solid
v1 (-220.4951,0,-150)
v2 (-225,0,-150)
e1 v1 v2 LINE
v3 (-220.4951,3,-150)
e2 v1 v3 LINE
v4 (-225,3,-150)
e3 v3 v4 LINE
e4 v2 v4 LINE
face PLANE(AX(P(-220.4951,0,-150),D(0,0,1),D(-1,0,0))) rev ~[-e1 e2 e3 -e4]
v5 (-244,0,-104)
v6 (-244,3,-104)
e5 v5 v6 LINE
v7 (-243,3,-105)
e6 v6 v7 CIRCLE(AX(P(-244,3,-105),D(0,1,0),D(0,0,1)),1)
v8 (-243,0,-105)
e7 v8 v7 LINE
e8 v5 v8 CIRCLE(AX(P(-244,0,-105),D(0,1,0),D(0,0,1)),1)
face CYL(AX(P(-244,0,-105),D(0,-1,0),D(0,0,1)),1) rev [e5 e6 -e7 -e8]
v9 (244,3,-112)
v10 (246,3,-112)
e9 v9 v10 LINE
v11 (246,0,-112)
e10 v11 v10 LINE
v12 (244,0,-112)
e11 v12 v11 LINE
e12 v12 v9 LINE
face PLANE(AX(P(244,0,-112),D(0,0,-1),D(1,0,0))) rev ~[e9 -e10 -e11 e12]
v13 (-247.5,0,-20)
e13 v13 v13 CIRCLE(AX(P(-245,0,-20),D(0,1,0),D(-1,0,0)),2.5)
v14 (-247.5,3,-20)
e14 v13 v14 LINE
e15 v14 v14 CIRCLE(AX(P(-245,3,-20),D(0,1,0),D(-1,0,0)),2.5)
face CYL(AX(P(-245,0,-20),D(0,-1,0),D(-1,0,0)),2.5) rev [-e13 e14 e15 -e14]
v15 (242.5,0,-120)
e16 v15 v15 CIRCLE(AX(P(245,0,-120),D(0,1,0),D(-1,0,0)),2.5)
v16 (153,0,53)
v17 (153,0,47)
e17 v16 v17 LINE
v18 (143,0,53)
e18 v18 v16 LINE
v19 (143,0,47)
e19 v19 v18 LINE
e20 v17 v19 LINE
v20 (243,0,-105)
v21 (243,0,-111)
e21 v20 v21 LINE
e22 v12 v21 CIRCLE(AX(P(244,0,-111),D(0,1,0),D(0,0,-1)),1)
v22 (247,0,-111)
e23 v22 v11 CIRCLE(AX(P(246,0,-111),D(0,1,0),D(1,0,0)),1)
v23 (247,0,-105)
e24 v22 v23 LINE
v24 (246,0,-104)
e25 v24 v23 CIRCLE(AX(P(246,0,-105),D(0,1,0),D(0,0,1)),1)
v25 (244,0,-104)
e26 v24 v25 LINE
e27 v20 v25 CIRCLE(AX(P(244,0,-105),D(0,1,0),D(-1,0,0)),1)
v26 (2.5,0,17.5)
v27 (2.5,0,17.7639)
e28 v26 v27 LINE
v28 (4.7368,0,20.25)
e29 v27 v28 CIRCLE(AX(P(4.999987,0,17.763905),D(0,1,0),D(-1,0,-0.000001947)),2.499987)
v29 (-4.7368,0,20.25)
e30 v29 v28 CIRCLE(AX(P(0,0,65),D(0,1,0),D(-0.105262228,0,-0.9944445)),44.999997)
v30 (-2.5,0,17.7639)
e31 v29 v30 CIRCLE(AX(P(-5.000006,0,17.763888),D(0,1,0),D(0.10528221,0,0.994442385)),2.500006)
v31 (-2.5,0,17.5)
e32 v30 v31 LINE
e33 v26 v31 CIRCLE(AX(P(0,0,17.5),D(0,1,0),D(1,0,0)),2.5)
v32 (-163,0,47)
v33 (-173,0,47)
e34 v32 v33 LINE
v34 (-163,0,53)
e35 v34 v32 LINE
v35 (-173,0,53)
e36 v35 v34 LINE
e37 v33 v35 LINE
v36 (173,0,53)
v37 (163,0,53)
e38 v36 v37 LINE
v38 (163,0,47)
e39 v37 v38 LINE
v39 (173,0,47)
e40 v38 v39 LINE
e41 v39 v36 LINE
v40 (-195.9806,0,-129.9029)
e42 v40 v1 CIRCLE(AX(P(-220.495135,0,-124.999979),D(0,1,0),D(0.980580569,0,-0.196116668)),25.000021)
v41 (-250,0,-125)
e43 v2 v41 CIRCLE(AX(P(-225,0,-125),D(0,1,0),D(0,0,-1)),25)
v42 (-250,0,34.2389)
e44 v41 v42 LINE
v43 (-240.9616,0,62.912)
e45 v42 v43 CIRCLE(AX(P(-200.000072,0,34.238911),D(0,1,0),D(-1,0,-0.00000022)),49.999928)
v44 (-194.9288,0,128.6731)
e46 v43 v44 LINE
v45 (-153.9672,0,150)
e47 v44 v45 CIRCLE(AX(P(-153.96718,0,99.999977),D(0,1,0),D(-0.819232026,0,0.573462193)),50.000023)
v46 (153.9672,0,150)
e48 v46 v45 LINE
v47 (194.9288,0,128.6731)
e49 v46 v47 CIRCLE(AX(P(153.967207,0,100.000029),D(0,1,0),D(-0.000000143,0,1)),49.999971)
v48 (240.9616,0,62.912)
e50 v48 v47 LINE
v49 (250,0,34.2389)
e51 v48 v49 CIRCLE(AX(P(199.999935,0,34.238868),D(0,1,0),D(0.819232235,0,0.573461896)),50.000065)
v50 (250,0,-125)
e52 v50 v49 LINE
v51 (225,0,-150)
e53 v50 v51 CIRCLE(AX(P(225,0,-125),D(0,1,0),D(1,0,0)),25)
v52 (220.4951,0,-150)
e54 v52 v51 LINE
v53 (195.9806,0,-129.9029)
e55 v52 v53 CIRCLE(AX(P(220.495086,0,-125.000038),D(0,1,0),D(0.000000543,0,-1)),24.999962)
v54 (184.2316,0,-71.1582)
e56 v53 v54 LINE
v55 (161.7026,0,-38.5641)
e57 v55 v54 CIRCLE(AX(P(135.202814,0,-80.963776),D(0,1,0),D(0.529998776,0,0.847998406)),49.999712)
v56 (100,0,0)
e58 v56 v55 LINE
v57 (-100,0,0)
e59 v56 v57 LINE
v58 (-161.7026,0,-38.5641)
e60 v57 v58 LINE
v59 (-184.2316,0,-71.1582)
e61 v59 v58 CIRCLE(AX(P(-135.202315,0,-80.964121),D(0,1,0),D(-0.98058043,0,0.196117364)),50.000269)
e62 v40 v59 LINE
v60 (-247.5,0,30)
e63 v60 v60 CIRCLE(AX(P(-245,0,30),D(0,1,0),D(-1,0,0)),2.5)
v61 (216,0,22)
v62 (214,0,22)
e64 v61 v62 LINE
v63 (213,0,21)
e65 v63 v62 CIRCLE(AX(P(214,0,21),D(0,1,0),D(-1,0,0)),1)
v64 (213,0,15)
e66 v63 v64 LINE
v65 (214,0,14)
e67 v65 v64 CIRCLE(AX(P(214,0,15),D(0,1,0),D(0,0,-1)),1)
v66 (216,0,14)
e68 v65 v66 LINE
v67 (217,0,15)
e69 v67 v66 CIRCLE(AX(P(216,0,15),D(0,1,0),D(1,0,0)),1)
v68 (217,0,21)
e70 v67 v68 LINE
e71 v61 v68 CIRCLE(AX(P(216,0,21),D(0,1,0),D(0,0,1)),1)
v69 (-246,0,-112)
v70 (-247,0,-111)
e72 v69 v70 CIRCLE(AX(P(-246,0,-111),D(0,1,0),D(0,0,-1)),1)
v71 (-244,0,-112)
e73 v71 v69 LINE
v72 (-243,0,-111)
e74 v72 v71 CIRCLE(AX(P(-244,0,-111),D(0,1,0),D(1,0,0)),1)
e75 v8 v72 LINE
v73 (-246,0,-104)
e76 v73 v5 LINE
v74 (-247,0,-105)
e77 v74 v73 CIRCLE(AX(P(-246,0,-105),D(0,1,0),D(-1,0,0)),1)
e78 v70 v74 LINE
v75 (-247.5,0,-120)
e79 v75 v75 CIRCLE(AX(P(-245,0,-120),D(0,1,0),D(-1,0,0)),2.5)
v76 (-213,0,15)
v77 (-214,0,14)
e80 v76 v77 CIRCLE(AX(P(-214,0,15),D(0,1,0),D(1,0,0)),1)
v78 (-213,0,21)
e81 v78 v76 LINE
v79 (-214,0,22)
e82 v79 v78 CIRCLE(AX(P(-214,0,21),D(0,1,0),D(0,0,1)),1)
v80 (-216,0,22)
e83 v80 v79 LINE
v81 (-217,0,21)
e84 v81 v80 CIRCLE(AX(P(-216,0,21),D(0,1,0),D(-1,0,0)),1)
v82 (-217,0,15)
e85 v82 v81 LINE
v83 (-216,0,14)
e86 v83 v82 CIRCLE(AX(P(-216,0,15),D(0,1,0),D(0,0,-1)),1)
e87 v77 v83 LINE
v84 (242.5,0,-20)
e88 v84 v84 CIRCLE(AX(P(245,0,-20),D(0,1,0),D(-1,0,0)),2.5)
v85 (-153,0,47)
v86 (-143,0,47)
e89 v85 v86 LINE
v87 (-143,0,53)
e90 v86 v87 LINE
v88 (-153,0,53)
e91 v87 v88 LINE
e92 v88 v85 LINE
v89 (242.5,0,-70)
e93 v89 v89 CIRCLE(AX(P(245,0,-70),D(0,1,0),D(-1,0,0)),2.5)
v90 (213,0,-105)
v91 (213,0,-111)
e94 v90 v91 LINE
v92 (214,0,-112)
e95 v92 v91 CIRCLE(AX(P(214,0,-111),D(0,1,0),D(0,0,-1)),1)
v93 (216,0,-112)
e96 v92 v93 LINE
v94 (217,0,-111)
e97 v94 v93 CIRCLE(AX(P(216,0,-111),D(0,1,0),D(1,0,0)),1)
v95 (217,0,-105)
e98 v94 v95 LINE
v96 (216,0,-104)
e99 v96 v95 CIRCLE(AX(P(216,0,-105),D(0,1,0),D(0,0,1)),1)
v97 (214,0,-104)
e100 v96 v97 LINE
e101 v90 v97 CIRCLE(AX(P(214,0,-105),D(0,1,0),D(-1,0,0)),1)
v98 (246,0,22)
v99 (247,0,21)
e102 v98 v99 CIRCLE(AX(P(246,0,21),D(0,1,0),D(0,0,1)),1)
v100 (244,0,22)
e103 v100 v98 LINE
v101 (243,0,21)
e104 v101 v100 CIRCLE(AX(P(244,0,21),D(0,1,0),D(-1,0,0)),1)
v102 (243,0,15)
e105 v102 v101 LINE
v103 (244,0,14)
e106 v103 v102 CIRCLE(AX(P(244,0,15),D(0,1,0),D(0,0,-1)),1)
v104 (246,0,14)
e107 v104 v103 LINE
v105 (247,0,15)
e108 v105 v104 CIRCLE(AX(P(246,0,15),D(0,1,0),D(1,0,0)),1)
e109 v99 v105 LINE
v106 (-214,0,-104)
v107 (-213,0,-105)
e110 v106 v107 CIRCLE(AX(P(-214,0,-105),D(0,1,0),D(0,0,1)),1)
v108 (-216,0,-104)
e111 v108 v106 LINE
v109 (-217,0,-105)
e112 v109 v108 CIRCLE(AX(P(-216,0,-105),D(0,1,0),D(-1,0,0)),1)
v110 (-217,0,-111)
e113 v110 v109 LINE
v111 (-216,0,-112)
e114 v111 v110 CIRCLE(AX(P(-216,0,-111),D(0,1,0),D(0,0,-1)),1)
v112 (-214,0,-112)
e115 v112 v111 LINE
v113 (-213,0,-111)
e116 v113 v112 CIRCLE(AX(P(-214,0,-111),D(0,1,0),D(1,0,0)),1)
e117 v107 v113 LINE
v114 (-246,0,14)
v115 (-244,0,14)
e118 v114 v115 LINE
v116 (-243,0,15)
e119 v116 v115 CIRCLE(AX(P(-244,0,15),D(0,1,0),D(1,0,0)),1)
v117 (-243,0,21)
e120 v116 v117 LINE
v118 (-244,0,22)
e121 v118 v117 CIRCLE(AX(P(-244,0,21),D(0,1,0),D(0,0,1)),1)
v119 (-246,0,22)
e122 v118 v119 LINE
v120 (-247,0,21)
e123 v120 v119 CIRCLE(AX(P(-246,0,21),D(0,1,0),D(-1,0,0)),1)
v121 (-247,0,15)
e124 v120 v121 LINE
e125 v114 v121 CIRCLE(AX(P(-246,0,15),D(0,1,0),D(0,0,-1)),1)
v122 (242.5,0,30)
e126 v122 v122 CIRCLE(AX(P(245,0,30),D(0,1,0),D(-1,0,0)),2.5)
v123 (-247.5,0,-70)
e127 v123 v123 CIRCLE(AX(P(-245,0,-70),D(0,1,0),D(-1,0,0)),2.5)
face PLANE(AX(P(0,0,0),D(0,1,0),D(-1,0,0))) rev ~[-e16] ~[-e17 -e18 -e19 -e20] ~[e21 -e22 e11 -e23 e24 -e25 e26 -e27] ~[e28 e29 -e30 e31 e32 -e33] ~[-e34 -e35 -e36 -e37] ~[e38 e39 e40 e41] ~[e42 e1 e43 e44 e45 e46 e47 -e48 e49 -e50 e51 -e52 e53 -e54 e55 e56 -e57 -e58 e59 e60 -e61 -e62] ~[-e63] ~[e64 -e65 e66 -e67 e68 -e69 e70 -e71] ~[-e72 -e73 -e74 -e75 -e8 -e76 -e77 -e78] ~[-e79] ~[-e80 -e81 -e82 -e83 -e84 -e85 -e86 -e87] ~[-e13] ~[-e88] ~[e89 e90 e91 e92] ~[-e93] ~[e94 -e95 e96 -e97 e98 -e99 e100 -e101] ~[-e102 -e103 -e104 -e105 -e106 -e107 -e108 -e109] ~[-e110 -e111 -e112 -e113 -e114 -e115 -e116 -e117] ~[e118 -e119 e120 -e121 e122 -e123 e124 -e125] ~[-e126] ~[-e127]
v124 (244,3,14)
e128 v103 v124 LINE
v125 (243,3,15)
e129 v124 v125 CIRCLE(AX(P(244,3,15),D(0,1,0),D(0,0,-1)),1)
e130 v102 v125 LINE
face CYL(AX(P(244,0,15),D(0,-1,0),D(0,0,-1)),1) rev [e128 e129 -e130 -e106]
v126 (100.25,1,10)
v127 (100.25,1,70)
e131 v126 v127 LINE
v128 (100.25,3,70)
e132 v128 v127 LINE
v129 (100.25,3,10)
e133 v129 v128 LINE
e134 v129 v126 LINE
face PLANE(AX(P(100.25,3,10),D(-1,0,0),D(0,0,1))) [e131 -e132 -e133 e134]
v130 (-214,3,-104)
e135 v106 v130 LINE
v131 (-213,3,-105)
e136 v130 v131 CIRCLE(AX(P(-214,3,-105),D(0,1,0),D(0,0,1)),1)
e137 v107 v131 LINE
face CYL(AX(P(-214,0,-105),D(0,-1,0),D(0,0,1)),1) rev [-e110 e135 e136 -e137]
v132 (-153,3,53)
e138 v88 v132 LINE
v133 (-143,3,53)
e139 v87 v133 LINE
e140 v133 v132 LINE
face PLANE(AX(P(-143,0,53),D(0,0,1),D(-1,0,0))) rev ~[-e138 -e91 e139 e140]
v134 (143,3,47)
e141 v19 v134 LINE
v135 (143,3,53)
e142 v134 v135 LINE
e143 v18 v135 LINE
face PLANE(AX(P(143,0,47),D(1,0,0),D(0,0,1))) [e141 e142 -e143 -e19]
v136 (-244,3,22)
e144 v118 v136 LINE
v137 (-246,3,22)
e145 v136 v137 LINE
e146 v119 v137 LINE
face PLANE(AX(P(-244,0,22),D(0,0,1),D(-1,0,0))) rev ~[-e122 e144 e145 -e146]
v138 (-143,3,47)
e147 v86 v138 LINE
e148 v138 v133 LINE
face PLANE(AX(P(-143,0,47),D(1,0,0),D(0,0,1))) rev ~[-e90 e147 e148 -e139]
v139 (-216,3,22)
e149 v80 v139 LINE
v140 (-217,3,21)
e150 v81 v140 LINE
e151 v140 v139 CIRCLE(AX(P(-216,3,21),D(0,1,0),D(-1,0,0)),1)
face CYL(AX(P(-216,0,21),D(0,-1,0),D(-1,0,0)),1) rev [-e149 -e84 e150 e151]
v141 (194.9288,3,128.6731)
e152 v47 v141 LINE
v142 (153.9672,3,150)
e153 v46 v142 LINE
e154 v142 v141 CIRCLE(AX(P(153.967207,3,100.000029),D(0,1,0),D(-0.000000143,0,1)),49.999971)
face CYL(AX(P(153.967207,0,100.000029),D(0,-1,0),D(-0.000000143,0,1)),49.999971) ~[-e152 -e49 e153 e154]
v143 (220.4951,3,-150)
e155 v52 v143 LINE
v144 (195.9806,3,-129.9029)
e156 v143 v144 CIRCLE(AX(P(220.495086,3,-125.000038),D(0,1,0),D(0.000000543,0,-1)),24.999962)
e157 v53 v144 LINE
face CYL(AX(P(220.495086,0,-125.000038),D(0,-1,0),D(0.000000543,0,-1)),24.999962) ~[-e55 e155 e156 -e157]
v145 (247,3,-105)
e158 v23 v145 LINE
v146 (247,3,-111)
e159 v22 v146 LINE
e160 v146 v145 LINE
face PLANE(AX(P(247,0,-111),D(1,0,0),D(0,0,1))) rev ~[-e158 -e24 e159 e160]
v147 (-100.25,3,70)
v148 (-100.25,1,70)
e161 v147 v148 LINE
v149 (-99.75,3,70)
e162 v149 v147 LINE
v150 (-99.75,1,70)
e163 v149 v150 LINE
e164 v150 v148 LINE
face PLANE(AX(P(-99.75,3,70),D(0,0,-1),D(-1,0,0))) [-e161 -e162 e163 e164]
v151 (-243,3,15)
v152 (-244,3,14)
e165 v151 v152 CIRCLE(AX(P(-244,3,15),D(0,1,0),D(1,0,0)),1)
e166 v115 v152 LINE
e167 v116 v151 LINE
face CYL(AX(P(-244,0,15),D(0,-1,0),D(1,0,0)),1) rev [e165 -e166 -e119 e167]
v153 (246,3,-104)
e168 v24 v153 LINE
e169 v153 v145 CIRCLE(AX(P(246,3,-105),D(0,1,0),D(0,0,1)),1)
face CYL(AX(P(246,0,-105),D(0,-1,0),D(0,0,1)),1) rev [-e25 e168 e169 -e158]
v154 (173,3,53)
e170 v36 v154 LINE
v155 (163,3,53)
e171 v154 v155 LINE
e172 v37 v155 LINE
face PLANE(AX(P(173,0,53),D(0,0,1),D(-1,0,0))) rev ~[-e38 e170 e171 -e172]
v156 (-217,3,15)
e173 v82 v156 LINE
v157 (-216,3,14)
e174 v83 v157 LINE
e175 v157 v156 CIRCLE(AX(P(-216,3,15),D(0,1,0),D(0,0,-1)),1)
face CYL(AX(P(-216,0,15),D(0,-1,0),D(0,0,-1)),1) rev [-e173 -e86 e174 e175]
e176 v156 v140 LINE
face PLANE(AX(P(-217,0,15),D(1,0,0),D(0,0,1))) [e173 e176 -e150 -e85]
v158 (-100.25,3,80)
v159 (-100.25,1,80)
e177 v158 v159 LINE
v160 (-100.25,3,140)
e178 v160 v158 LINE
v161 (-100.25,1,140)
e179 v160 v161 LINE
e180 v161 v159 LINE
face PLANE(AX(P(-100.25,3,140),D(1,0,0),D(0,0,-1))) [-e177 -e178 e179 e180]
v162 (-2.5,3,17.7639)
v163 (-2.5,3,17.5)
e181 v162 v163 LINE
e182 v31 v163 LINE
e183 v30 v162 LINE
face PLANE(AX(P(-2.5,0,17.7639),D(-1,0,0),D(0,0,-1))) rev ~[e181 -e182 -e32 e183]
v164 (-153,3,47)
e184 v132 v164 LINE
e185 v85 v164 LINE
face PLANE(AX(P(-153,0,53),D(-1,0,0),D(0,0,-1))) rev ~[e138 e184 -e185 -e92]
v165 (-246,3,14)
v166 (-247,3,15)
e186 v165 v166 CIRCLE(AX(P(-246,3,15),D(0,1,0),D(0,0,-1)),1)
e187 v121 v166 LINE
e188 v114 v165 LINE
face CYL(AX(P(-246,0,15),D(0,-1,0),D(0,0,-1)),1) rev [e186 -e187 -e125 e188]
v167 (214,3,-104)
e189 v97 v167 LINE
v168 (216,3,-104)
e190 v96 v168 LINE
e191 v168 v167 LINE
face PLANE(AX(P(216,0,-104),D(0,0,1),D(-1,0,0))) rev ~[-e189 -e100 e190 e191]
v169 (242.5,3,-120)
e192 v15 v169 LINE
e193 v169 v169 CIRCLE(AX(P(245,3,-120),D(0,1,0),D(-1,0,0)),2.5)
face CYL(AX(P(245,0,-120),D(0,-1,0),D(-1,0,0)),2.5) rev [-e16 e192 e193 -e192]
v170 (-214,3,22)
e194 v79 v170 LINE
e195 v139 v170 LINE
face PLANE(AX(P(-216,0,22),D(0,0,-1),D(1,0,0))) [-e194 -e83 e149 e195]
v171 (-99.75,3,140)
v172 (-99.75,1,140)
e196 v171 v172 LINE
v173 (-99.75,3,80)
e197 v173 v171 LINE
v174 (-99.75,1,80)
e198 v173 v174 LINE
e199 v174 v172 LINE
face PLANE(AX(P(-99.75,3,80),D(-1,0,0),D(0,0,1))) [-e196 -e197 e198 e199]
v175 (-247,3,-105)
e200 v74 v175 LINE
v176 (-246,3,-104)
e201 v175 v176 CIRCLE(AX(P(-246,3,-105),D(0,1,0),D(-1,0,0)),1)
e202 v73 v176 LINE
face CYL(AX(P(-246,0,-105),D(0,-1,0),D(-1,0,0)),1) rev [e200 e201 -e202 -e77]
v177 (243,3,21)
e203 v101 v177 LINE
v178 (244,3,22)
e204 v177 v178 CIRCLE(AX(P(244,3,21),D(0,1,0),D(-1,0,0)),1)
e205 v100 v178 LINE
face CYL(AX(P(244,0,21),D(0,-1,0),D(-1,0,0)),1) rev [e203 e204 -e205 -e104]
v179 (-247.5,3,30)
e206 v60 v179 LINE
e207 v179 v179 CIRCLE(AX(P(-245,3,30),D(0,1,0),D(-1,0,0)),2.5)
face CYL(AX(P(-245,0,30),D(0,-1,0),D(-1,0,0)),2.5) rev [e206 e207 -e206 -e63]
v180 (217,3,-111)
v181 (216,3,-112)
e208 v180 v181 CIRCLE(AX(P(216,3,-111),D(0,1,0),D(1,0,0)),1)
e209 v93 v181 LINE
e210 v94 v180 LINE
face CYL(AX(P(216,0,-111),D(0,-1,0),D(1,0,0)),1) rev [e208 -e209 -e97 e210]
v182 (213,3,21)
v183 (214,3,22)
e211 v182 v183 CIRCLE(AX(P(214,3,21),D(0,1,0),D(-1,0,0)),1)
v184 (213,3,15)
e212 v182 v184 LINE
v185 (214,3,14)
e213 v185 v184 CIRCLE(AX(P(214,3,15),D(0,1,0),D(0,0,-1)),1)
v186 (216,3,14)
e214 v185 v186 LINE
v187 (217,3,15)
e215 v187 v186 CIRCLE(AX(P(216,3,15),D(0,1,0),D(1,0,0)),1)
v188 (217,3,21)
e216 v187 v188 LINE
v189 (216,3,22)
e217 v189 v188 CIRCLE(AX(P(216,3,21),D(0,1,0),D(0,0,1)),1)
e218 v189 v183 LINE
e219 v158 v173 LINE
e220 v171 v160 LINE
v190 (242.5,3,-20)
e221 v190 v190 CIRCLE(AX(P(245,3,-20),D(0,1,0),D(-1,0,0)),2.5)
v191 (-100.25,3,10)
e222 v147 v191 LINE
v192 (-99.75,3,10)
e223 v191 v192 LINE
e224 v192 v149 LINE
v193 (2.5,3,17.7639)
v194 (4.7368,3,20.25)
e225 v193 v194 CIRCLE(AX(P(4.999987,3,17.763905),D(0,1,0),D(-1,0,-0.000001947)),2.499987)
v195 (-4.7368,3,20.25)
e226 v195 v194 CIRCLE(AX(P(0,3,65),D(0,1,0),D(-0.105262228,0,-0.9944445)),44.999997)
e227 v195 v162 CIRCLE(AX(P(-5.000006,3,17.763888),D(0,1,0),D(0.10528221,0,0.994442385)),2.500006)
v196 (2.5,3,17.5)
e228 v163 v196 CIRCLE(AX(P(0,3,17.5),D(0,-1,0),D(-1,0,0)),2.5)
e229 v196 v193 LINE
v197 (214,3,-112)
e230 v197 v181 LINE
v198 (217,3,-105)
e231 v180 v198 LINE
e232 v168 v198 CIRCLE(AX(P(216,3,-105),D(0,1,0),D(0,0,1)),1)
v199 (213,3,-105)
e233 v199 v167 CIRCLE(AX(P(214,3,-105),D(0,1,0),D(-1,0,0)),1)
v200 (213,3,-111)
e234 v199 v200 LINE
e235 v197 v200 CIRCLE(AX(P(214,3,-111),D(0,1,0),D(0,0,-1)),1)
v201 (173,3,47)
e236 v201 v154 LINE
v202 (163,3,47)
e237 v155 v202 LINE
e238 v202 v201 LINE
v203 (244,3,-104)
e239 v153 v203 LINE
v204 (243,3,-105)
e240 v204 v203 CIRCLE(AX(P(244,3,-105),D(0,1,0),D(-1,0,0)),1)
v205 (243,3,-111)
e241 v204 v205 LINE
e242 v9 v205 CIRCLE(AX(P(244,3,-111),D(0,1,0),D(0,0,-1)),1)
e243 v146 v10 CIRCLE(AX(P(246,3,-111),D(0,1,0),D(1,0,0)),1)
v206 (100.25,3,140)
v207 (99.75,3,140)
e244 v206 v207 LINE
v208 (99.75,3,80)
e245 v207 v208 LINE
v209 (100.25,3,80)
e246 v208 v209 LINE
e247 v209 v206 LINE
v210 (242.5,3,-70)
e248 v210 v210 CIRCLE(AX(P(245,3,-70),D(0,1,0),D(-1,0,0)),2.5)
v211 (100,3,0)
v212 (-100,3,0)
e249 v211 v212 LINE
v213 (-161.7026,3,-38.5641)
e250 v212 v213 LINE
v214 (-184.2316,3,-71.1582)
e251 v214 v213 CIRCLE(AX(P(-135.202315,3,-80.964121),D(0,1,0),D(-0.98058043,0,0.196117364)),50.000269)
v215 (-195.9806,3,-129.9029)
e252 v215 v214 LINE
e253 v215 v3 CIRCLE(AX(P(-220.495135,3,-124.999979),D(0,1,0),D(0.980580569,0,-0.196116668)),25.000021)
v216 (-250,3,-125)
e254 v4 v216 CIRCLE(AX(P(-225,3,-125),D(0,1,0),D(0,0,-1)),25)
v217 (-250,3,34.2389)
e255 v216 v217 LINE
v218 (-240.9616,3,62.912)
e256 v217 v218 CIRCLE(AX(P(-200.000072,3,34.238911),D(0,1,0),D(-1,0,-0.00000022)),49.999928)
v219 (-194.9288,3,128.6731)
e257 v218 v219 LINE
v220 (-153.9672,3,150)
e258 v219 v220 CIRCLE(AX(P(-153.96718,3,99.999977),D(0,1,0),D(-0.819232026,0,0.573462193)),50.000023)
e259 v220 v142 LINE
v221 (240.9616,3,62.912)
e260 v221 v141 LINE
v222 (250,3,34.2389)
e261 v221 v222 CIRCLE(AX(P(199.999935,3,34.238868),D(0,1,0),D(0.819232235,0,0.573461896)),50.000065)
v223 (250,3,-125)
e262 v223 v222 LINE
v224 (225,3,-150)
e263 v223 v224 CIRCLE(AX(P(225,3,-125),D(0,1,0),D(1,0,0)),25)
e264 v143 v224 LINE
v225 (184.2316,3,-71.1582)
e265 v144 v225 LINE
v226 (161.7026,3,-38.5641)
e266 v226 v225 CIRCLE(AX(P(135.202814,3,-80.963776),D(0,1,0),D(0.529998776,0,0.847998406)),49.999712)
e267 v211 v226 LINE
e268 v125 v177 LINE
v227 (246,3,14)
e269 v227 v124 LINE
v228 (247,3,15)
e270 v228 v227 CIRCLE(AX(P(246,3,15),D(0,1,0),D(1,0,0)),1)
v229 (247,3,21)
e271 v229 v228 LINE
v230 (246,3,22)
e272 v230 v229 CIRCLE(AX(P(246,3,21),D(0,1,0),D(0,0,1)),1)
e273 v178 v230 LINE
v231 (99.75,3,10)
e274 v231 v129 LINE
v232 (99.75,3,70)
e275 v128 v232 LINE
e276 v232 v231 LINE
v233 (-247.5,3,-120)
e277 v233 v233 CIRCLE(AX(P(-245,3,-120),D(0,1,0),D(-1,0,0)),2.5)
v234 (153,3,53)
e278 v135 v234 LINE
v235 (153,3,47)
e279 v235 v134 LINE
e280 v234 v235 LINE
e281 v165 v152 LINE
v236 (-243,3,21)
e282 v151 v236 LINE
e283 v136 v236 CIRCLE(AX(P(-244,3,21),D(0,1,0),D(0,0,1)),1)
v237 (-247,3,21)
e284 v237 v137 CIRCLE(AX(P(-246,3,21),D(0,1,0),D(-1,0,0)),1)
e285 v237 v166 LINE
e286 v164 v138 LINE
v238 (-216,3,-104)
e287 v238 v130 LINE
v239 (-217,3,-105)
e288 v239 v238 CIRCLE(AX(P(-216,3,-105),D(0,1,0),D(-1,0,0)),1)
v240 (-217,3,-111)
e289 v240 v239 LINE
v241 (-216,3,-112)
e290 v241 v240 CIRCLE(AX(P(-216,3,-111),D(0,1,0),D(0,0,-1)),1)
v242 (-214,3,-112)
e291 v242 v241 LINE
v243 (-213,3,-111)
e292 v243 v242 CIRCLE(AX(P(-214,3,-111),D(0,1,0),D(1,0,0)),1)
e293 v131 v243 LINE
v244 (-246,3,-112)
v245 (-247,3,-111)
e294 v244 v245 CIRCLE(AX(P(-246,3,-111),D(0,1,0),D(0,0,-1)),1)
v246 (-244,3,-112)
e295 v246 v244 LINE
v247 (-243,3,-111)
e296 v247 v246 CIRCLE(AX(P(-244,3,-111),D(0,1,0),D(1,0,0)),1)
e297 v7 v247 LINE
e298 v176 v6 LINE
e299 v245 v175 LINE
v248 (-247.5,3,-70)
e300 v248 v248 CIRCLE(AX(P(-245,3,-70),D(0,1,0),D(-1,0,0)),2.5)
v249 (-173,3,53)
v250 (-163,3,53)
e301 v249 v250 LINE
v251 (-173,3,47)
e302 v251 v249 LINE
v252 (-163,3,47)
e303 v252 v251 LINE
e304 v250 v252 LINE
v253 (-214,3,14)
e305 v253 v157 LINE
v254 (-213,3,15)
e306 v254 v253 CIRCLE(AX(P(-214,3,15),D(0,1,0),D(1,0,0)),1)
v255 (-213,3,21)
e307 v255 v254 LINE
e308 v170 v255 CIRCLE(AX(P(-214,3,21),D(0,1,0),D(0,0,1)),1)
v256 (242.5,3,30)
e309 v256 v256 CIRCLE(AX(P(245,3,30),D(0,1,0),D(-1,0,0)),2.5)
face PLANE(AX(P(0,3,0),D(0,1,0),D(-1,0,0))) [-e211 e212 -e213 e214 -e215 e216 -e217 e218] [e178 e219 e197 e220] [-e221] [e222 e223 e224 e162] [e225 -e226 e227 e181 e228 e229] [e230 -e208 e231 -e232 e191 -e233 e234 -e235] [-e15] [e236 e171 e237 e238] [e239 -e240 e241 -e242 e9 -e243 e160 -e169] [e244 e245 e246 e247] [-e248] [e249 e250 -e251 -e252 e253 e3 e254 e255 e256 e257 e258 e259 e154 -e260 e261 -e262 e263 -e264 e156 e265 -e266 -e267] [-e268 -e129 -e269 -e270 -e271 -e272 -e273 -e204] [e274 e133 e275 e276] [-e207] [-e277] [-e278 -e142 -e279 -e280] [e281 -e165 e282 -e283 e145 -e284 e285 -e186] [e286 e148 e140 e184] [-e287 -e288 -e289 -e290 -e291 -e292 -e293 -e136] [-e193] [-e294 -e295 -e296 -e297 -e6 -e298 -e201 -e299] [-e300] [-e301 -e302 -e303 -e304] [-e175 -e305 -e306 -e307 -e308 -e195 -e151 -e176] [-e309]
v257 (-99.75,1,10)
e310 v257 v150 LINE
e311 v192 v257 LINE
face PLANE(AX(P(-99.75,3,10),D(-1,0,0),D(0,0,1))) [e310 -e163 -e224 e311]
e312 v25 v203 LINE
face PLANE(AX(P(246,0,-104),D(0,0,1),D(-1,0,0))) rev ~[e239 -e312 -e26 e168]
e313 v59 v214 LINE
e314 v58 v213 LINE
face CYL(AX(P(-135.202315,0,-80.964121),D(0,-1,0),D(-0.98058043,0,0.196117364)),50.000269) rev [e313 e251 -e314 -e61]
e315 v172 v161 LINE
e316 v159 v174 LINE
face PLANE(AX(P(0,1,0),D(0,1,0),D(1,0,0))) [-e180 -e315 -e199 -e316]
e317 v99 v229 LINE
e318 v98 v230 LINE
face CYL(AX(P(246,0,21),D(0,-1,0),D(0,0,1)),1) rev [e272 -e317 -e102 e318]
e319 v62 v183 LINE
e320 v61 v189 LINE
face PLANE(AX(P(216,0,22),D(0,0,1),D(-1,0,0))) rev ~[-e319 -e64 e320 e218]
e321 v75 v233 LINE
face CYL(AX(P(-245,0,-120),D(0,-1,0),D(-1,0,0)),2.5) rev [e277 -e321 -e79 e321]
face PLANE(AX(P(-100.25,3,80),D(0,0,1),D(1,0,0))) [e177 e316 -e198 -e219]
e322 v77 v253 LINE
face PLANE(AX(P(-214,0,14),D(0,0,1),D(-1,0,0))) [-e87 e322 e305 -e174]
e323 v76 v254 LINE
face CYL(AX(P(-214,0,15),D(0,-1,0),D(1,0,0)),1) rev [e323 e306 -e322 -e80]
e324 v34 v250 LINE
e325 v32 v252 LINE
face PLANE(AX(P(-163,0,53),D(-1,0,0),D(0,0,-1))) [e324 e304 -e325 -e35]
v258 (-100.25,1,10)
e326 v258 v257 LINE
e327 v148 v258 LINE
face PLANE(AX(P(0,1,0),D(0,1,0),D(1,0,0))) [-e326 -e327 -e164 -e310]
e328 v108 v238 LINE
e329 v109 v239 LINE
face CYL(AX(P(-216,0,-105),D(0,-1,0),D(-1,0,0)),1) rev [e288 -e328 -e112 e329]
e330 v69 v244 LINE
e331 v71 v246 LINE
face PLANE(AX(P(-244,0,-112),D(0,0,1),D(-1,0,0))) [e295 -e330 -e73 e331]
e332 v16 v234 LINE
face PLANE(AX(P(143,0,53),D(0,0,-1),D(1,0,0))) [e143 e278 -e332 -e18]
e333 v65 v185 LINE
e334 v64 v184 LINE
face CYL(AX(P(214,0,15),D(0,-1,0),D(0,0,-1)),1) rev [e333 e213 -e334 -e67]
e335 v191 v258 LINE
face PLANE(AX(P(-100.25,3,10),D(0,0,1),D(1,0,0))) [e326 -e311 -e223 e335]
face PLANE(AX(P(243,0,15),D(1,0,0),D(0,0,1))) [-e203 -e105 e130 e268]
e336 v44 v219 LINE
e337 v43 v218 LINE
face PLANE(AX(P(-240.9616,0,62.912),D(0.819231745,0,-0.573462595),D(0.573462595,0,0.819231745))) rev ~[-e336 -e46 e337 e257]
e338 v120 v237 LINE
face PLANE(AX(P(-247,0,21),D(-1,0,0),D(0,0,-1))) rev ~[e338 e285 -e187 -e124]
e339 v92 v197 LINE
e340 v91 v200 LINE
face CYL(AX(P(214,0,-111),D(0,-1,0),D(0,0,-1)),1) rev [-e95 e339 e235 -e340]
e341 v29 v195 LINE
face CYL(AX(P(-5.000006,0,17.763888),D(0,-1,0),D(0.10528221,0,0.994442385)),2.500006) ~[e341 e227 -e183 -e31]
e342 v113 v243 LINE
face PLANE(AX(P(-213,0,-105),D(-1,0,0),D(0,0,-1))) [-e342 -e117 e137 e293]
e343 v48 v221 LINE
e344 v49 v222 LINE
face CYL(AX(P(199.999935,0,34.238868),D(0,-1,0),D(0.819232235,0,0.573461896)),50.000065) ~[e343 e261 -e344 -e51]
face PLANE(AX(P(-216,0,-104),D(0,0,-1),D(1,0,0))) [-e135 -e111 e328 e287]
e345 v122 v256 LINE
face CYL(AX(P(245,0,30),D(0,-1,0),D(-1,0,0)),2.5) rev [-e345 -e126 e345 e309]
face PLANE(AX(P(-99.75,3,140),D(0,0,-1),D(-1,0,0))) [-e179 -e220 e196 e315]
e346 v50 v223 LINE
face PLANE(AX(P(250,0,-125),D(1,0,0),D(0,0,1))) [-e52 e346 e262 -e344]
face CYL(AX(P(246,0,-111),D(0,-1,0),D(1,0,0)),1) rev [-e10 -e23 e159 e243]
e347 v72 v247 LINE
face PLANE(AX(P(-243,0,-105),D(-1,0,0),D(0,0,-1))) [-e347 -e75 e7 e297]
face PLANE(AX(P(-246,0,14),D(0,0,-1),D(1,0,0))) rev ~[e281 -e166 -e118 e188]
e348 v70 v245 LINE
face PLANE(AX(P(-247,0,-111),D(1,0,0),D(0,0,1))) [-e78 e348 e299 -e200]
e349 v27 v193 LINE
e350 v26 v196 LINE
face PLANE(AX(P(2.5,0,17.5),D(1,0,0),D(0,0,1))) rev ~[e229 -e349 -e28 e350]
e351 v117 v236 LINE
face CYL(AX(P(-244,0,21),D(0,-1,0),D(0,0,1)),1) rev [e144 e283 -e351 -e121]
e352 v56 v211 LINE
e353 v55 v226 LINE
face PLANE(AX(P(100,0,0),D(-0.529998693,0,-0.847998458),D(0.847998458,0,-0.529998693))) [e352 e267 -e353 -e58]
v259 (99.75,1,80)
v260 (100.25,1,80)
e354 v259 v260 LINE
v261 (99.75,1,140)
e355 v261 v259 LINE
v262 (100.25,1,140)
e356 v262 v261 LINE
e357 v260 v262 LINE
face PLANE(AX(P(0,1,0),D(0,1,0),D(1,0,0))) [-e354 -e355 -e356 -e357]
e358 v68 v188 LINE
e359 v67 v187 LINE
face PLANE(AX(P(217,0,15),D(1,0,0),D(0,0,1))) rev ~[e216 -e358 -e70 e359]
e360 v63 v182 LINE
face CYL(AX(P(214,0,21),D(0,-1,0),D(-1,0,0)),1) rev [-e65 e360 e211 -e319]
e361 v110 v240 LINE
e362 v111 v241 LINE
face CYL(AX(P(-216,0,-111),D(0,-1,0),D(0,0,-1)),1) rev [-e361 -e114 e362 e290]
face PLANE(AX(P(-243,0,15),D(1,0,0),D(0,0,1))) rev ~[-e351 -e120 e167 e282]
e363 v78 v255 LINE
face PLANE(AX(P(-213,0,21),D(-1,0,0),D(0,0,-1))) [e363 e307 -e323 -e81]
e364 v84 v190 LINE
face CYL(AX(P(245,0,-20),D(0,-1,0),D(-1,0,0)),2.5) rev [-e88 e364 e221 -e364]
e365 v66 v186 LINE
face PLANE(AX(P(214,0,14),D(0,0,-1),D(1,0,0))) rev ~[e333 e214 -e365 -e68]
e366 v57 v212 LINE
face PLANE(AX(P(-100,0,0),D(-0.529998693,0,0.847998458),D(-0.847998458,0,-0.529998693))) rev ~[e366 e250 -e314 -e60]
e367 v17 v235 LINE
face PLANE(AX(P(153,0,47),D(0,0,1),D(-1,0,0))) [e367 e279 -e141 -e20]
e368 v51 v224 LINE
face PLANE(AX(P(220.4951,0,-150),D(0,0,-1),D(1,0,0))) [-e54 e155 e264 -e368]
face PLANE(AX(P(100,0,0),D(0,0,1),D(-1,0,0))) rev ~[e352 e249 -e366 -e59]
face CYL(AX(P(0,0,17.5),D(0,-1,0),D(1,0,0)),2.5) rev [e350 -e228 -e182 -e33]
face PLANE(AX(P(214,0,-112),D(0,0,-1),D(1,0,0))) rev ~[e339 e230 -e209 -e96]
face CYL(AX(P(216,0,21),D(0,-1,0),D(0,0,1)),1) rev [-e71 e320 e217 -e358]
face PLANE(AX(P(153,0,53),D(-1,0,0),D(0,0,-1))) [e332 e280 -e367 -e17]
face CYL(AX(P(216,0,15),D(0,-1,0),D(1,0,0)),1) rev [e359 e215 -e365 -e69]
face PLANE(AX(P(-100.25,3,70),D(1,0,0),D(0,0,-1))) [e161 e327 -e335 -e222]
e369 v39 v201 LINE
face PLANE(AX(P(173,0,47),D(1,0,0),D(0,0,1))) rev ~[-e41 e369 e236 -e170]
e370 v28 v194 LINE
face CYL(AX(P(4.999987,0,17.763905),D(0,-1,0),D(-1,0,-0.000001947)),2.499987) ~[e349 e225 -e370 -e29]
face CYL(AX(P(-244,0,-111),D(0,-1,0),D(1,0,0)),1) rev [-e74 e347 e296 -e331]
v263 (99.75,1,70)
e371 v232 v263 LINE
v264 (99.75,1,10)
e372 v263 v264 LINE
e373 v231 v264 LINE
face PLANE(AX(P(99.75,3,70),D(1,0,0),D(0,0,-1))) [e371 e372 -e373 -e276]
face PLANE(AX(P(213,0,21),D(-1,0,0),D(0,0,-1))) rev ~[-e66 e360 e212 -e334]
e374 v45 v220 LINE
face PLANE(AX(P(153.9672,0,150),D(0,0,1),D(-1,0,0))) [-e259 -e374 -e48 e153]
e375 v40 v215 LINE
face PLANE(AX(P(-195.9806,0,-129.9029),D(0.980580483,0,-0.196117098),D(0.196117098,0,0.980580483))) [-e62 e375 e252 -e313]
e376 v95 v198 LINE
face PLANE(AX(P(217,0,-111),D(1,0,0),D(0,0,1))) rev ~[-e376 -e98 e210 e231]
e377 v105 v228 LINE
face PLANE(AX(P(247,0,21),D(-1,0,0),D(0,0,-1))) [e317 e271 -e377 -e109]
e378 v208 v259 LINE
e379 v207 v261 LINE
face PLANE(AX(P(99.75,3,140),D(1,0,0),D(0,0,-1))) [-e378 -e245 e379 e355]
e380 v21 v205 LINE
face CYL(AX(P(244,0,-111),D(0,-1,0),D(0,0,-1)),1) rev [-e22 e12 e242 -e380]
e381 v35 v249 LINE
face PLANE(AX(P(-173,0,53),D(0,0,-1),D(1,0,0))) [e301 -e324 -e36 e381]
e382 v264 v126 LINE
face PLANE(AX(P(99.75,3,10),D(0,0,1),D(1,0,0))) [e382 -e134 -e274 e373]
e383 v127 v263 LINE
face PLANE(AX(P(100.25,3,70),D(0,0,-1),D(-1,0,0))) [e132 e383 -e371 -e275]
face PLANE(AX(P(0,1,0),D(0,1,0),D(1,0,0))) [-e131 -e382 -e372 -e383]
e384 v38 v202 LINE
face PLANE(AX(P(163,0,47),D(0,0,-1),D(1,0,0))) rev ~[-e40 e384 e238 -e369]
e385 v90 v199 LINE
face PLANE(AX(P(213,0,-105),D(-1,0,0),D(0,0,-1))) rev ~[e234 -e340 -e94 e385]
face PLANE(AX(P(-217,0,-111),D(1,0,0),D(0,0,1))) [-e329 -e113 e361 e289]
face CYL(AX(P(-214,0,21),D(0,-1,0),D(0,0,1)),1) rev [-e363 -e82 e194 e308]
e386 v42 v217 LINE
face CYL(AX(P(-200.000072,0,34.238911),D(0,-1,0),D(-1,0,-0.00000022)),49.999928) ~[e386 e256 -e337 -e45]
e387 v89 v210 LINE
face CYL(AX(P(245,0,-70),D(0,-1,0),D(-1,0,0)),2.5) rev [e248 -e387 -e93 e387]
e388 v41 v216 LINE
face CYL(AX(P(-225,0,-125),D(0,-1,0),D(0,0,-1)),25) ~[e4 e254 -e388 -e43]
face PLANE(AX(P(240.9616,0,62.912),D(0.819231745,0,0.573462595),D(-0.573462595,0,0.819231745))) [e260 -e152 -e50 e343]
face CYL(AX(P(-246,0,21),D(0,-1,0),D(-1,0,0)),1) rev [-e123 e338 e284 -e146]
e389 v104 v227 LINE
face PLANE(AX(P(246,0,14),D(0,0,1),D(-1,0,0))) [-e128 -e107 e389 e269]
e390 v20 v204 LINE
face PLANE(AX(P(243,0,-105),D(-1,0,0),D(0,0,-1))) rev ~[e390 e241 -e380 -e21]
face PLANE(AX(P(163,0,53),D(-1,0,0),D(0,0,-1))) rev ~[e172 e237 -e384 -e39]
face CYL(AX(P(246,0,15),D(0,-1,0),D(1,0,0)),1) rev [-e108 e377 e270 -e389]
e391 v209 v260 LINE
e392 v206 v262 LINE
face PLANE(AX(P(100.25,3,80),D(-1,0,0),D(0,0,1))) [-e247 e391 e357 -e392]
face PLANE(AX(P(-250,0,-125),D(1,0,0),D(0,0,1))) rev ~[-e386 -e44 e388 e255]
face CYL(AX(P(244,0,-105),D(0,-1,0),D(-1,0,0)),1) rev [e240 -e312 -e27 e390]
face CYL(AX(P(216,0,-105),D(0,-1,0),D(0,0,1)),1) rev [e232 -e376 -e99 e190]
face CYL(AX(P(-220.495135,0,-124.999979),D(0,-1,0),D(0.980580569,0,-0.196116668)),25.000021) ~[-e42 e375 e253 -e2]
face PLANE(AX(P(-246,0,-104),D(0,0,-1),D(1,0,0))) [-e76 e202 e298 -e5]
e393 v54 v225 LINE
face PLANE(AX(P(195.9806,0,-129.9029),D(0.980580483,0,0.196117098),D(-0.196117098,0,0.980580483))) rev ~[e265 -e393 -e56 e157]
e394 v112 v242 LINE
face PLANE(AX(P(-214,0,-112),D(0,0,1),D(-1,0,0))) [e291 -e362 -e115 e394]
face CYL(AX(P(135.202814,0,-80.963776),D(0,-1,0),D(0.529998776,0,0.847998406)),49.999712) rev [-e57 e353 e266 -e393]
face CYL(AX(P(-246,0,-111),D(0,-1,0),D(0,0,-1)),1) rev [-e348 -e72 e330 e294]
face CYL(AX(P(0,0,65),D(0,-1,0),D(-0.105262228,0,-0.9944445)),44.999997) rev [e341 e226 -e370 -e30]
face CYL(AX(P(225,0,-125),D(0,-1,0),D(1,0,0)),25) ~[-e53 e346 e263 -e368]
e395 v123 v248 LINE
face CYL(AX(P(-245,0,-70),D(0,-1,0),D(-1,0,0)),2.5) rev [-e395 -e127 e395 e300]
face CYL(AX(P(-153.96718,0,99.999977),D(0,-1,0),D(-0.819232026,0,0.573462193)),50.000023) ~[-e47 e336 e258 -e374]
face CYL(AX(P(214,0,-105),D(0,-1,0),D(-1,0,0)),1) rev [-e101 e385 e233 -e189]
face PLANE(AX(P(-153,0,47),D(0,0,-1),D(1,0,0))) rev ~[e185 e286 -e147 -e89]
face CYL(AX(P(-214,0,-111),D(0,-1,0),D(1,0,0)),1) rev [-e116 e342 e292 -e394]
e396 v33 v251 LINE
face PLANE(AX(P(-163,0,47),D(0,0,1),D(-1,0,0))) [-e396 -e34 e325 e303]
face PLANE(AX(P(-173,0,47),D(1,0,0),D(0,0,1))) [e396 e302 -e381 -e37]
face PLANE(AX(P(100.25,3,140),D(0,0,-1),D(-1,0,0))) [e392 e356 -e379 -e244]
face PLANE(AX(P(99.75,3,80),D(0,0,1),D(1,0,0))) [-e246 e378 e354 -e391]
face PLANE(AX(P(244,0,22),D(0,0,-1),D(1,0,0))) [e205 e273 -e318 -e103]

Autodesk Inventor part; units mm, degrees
ref_plane "YZ Plane" through (0, 0, 0) normal (1, 0, 0) x (0, 1, 0)
ref_plane "XZ Plane" through (0, 0, 0) normal (0, 1, 0) x (-1, 0, 0)
ref_plane "XY Plane" through (0, 0, 0) normal (0, 0, 1) x (1, 0, 0)
sketch "Profile" plane through (0, 0, 0) normal (0, 1, 0) x (-1, 0, 0)
  line L0 (-100, 0) -> (-161.7026, -38.5641)
  line L1 (-250, -125) -> (-250, 34.2389)
  line L2 (-240.9616, 62.912) -> (-194.9288, 128.6731)
  line L3 (-153.9672, 150) -> (0, 150)
  line L4 (-195.9806, -129.9029) -> (-184.2316, -71.1582)
  line L5 (-220.4951, -150) -> (-225, -150)
  arc A0 (-161.7026, -38.5641) -> (-184.2316, -71.1582) centre (-135.2026, -80.964) ccw
  arc A1 (-240.9616, 62.912) -> (-250, 34.2389) centre (-200, 34.2389) ccw
  arc A2 (-153.9672, 150) -> (-194.9288, 128.6731) centre (-153.9672, 100) ccw
  arc A3 (-220.4951, -150) -> (-195.9806, -129.9029) centre (-220.4951, -125) ccw
  arc A4 (-250, -125) -> (-225, -150) centre (-225, -125) ccw
  circle A5 centre (-245, -120) radius 2.5
  circle A6 centre (-245, 30) radius 2.5
  line L6 (-163, 47) -> (-173, 47)
  line L7 (-173, 47) -> (-173, 53)
  line L8 (-173, 53) -> (-163, 53)
  line L9 (-163, 53) -> (-163, 47)
  line L10 (-244, -112) -> (-246, -112)
  line L11 (-247, -111) -> (-247, -105)
  line L12 (-246, -104) -> (-244, -104)
  line L13 (-243, -105) -> (-243, -111)
  line L14 (-214, -112) -> (-216, -112)
  line L15 (-217, -111) -> (-217, -105)
  line L16 (-216, -104) -> (-214, -104)
  line L17 (-213, -105) -> (-213, -111)
  arc A7 (-214, -112) -> (-213, -111) centre (-214, -111) ccw
  arc A8 (-217, -111) -> (-216, -112) centre (-216, -111) ccw
  arc A9 (-216, -104) -> (-217, -105) centre (-216, -105) ccw
  arc A10 (-213, -105) -> (-214, -104) centre (-214, -105) ccw
  arc A11 (-243, -105) -> (-244, -104) centre (-244, -105) ccw
  arc A12 (-246, -104) -> (-247, -105) centre (-246, -105) ccw
  arc A13 (-247, -111) -> (-246, -112) centre (-246, -111) ccw
  arc A14 (-244, -112) -> (-243, -111) centre (-244, -111) ccw
  line L18 (-244, 22) -> (-246, 22)
  line L19 (-247, 21) -> (-247, 15)
  line L20 (-246, 14) -> (-244, 14)
  line L21 (-243, 15) -> (-243, 21)
  line L22 (-214, 14) -> (-216, 14)
  line L23 (-217, 15) -> (-217, 21)
  line L24 (-216, 22) -> (-214, 22)
  line L25 (-213, 21) -> (-213, 15)
  arc A15 (-214, 14) -> (-213, 15) centre (-214, 15) ccw
  arc A16 (-217, 15) -> (-216, 14) centre (-216, 15) ccw
  arc A17 (-216, 22) -> (-217, 21) centre (-216, 21) ccw
  arc A18 (-213, 21) -> (-214, 22) centre (-214, 21) ccw
  arc A19 (-243, 21) -> (-244, 22) centre (-244, 21) ccw
  arc A20 (-246, 22) -> (-247, 21) centre (-246, 21) ccw
  arc A21 (-247, 15) -> (-246, 14) centre (-246, 15) ccw
  arc A22 (-244, 14) -> (-243, 15) centre (-244, 15) ccw
  line L26 (100, 0) -> (161.7026, -38.5641)
  line L27 (250, -125) -> (250, 34.2389)
  line L28 (240.9616, 62.912) -> (194.9288, 128.6731)
  line L29 (153.9672, 150) -> (0, 150)
  line L30 (195.9806, -129.9029) -> (184.2316, -71.1582)
  line L31 (220.4951, -150) -> (225, -150)
  arc A23 (184.2316, -71.1582) -> (161.7026, -38.5641) centre (135.2026, -80.964) ccw
  arc A24 (250, 34.2389) -> (240.9616, 62.912) centre (200, 34.2389) ccw
  arc A25 (194.9288, 128.6731) -> (153.9672, 150) centre (153.9672, 100) ccw
  arc A26 (195.9806, -129.9029) -> (220.4951, -150) centre (220.4951, -125) ccw
  arc A27 (225, -150) -> (250, -125) centre (225, -125) ccw
  circle A28 centre (245, -120) radius 2.5
  circle A29 centre (245, 30) radius 2.5
  line L32 (163, 47) -> (173, 47)
  line L33 (173, 47) -> (173, 53)
  line L34 (173, 53) -> (163, 53)
  line L35 (163, 53) -> (163, 47)
  line L36 (244, -112) -> (246, -112)
  line L37 (247, -111) -> (247, -105)
  line L38 (246, -104) -> (244, -104)
  line L39 (243, -105) -> (243, -111)
  line L40 (214, -112) -> (216, -112)
  line L41 (217, -111) -> (217, -105)
  line L42 (216, -104) -> (214, -104)
  line L43 (213, -105) -> (213, -111)
  arc A30 (213, -111) -> (214, -112) centre (214, -111) ccw
  arc A31 (216, -112) -> (217, -111) centre (216, -111) ccw
  arc A32 (217, -105) -> (216, -104) centre (216, -105) ccw
  arc A33 (214, -104) -> (213, -105) centre (214, -105) ccw
  arc A34 (244, -104) -> (243, -105) centre (244, -105) ccw
  arc A35 (247, -105) -> (246, -104) centre (246, -105) ccw
  arc A36 (246, -112) -> (247, -111) centre (246, -111) ccw
  arc A37 (243, -111) -> (244, -112) centre (244, -111) ccw
  line L44 (244, 22) -> (246, 22)
  line L45 (247, 21) -> (247, 15)
  line L46 (246, 14) -> (244, 14)
  line L47 (243, 15) -> (243, 21)
  line L48 (214, 14) -> (216, 14)
  line L49 (217, 15) -> (217, 21)
  line L50 (216, 22) -> (214, 22)
  line L51 (213, 21) -> (213, 15)
  arc A38 (213, 15) -> (214, 14) centre (214, 15) ccw
  arc A39 (216, 14) -> (217, 15) centre (216, 15) ccw
  arc A40 (217, 21) -> (216, 22) centre (216, 21) ccw
  arc A41 (214, 22) -> (213, 21) centre (214, 21) ccw
  arc A42 (244, 22) -> (243, 21) centre (244, 21) ccw
  arc A43 (247, 21) -> (246, 22) centre (246, 21) ccw
  arc A44 (246, 14) -> (247, 15) centre (246, 15) ccw
  arc A45 (243, 15) -> (244, 14) centre (244, 15) ccw
  arc A46 (4.7368, 20.25) -> (-4.7368, 20.25) centre (0, 65) ccw
  line L52 (-100, 0) -> (100, 0)
  line L53 (2.5, 17.7639) -> (2.5, 17.5)
  line L54 (0, 15) -> (0, 15)
  line L55 (-2.5, 17.5) -> (-2.5, 17.7639)
  arc A47 (-2.5, 17.7639) -> (-4.7368, 20.25) centre (-5, 17.7639) ccw
  arc A48 (-2.5, 17.5) -> (0, 15) centre (0, 17.5) ccw
  arc A49 (4.7368, 20.25) -> (2.5, 17.7639) centre (5, 17.7639) ccw
  arc A50 (0, 15) -> (2.5, 17.5) centre (0, 17.5) ccw
  circle A51 centre (-245, -70) radius 2.5
  circle A52 centre (245, -70) radius 2.5
  circle A53 centre (-245, -20) radius 2.5
  circle A54 centre (245, -20) radius 2.5
  line L56 (-153, 47) -> (-143, 47)
  line L57 (-143, 47) -> (-143, 53)
  line L58 (-143, 53) -> (-153, 53)
  line L59 (-153, 53) -> (-153, 47)
  line L60 (153, 47) -> (143, 47)
  line L61 (143, 47) -> (143, 53)
  line L62 (143, 53) -> (153, 53)
  line L63 (153, 53) -> (153, 47)
  point P0 (0, 0)
  point P1 (-180, -50)
  point P2 (-250, -150)
  point P3 (-250, 50)
  point P4 (-180, 150)
  point P5 (-200, -150)
  point P6 (-243, -112)
  point P7 (-247, -104)
  point P8 (-247, -112)
  point P9 (-213, -112)
  point P10 (-217, -104)
  point P11 (-217, -112)
  point P12 (-247, 14)
  point P13 (-247, 22)
  point P14 (-243, 14)
  point P15 (-213, 14)
  point P16 (-217, 14)
  point P17 (-213, 22)
  point P18 (180, -50)
  point P19 (250, -150)
  point P20 (250, 50)
  point P21 (180, 150)
  point P22 (200, -150)
  point P23 (243, -112)
  point P24 (247, -104)
  point P25 (247, -112)
  point P26 (213, -112)
  point P27 (217, -104)
  point P28 (217, -112)
  point P29 (247, 14)
  point P30 (247, 22)
  point P31 (243, 14)
  point P32 (213, 14)
  point P33 (217, 14)
  point P34 (213, 22)
  point P35 (2.5, 15)
  point P36 (-2.5, 15)
  point P37 (-2.5, 20.0695)
  point P38 (2.5, 20.0695)
  dimension "d1" = 80
  dimension "d2" = 50
  dimension "d5" = 200
  dimension "d6" = 100
  dimension "d7" = 70
  dimension "d8" = 180
  dimension "d9" = 20
  dimension "d10" = 100
  dimension "d11" = 50
  dimension "d14" = 50
  dimension "d15" = 25
  dimension "d16" = 5
  dimension "d17" = 5
  dimension "d18" = 150
  dimension "d19" = 5
  dimension "d20" = 5
  dimension "d21" = 30
  dimension "d22" = 10
  dimension "d23" = 6
  dimension "d24" = 97
  dimension "d25" = 73
  dimension "d26" = 4
  dimension "d27" = 8
  dimension "d28" = 8
  dimension "d29" = 7
  dimension "d30" = 4
  dimension "d31" = 8
  dimension "d33" = 8
  dimension "d34" = 1
  dimension "d35" = 8
  dimension "d36" = 4
  dimension "d37" = 7
  dimension "d38" = 8
  dimension "d39" = 4
  dimension "d40" = 8
  dimension "d41" = 30
  dimension "d42" = 8
  dimension "d43" = 1
  dimension "d61" = 30
  dimension "d89" = 8
  dimension "d90" = 4
  dimension "d91" = 8
  dimension "d92" = 4
  dimension "d93" = 30
  dimension "d95" = 7
  dimension "d96" = 5
  dimension "d97" = 8
  dimension "d98" = 4
  dimension "d99" = 8
  dimension "d100" = 4
  dimension "d101" = 30
  dimension "d103" = 7
  dimension "d104" = 5
  dimension "d114" = 90
  dimension "d127" = 97
  dimension "d128" = 6
  dimension "d129" = 10
  dimension "d130" = 73
  dimension "d131" = 65
  dimension "d132" = 100
  dimension "d133" = 200
  dimension "d134" = 5
  dimension "d135" = 2.5
  dimension "d136" = 50
extrude "Extrusion7" add sketch "Profile" along normal blind 3
sketch "Sketch17" plane through (0, 3, 0) normal (0, 1, 0) x (1, 0, 0)
  arc A0 (-4.7368, -20.25) -> (4.7368, -20.25) centre (0, -65) ccw projected
  line L0 (100, 0) -> (-100, 0) projected
  line L1 (-153.9672, -150) -> (153.9672, -150) projected
  line L2 (-100.25, -10) -> (-99.75, -10)
  line L3 (-99.75, -10) -> (-99.75, -70)
  line L4 (-99.75, -70) -> (-100.25, -70)
  line L5 (-100.25, -70) -> (-100.25, -10)
  line L6 (-100.25, -80) -> (-99.75, -80)
  line L7 (-99.75, -80) -> (-99.75, -140)
  line L8 (-99.75, -140) -> (-100.25, -140)
  line L9 (-100.25, -140) -> (-100.25, -80)
  line L10 (99.75, -10) -> (100.25, -10)
  line L11 (100.25, -10) -> (100.25, -70)
  line L12 (100.25, -70) -> (99.75, -70)
  line L13 (99.75, -70) -> (99.75, -10)
  line L14 (99.75, -80) -> (100.25, -80)
  line L15 (100.25, -80) -> (100.25, -140)
  line L16 (100.25, -140) -> (99.75, -140)
  line L17 (99.75, -140) -> (99.75, -80)
  point P0 (0, 0)
  dimension "d197" = 0.5
  dimension "d199" = 10
  dimension "d200" = 10
  dimension "d201" = 60
  dimension "d202" = 10
  dimension "d203" = 0.5
  dimension "d204" = 99.75
  dimension "d205" = 10
  dimension "d206" = 10
  dimension "d207" = 0.5
  dimension "d208" = 0.5
  dimension "d209" = 60
  dimension "d210" = 99.75
extrude "Extrusion8" cut sketch "Sketch17" against normal blind 2
sketch "Sketch18" plane through (0, 0, 0) normal (0, -1, 0) x (1, 0, 0)
  arc A0 (4.7368, 20.25) -> (-4.7368, 20.25) centre (0, 65) ccw projected
  arc A1 (4.7368, 20.25) -> (2.5, 17.7639) centre (5, 17.7639) ccw projected
  line L0 (2.5, 17.7639) -> (2.5, 17.5) projected
  arc A2 (-2.5, 17.5) -> (2.5, 17.5) centre (0, 17.5) ccw projected
  line L1 (-2.5, 17.5) -> (-2.5, 17.7639) projected
  arc A3 (-2.5, 17.7639) -> (-4.7368, 20.25) centre (-5, 17.7639) ccw projected
  line L2 (-143, 53) -> (-143, 47) projected
  line L3 (-143, 47) -> (-153, 47) projected
  line L4 (-153, 47) -> (-153, 53) projected
  line L5 (-153, 53) -> (-143, 53) projected
  line L6 (153, 53) -> (153, 47) projected
  line L7 (153, 47) -> (143, 47) projected
  line L8 (143, 47) -> (143, 53) projected
  line L9 (143, 53) -> (153, 53) projected
  line L10 (-163, 53) -> (-163, 47) projected
  line L11 (-163, 47) -> (-173, 47) projected
  line L12 (-173, 47) -> (-173, 53) projected
  line L13 (-173, 53) -> (-163, 53) projected
  line L14 (173, 53) -> (173, 47) projected
  line L15 (173, 47) -> (163, 47) projected
  line L16 (163, 47) -> (163, 53) projected
  line L17 (163, 53) -> (173, 53) projected
  arc A4 (-244, 14) -> (-243, 15) centre (-244, 15) ccw projected
  line L18 (-244, 14) -> (-246, 14) projected
  arc A5 (-247, 15) -> (-246, 14) centre (-246, 15) ccw projected
  line L19 (-247, 15) -> (-247, 21) projected
  arc A6 (-246, 22) -> (-247, 21) centre (-246, 21) ccw projected
  line L20 (-246, 22) -> (-244, 22) projected
  arc A7 (-243, 21) -> (-244, 22) centre (-244, 21) ccw projected
  line L21 (-243, 21) -> (-243, 15) projected
  arc A8 (-213, 21) -> (-214, 22) centre (-214, 21) ccw projected
  line L22 (-213, 21) -> (-213, 15) projected
  arc A9 (-214, 14) -> (-213, 15) centre (-214, 15) ccw projected
  line L23 (-214, 14) -> (-216, 14) projected
  arc A10 (-217, 15) -> (-216, 14) centre (-216, 15) ccw projected
  line L24 (-217, 15) -> (-217, 21) projected
  arc A11 (-216, 22) -> (-217, 21) centre (-216, 21) ccw projected
  line L25 (-216, 22) -> (-214, 22) projected
  arc A12 (-217, -111) -> (-216, -112) centre (-216, -111) ccw projected
  line L26 (-217, -111) -> (-217, -105) projected
  arc A13 (-216, -104) -> (-217, -105) centre (-216, -105) ccw projected
  line L27 (-216, -104) -> (-214, -104) projected
  arc A14 (-213, -105) -> (-214, -104) centre (-214, -105) ccw projected
  line L28 (-213, -105) -> (-213, -111) projected
  arc A15 (-214, -112) -> (-213, -111) centre (-214, -111) ccw projected
  line L29 (-214, -112) -> (-216, -112) projected
  arc A16 (-243, -105) -> (-244, -104) centre (-244, -105) ccw projected
  line L30 (-243, -105) -> (-243, -111) projected
  arc A17 (-244, -112) -> (-243, -111) centre (-244, -111) ccw projected
  line L31 (-244, -112) -> (-246, -112) projected
  arc A18 (-247, -111) -> (-246, -112) centre (-246, -111) ccw projected
  line L32 (-247, -111) -> (-247, -105) projected
  arc A19 (-246, -104) -> (-247, -105) centre (-246, -105) ccw projected
  line L33 (-246, -104) -> (-244, -104) projected
  arc A20 (244, 22) -> (243, 21) centre (244, 21) ccw projected
  line L34 (244, 22) -> (246, 22) projected
  arc A21 (247, 21) -> (246, 22) centre (246, 21) ccw projected
  line L35 (247, 21) -> (247, 15) projected
  arc A22 (246, 14) -> (247, 15) centre (246, 15) ccw projected
  line L36 (246, 14) -> (244, 14) projected
  arc A23 (243, 15) -> (244, 14) centre (244, 15) ccw projected
  line L37 (243, 15) -> (243, 21) projected
  arc A24 (216, 14) -> (217, 15) centre (216, 15) ccw projected
  line L38 (216, 14) -> (214, 14) projected
  arc A25 (213, 15) -> (214, 14) centre (214, 15) ccw projected
  line L39 (213, 15) -> (213, 21) projected
  arc A26 (214, 22) -> (213, 21) centre (214, 21) ccw projected
  line L40 (214, 22) -> (216, 22) projected
  arc A27 (217, 21) -> (216, 22) centre (216, 21) ccw projected
  line L41 (217, 21) -> (217, 15) projected
  arc A28 (244, -104) -> (243, -105) centre (244, -105) ccw projected
  line L42 (244, -104) -> (246, -104) projected
  arc A29 (247, -105) -> (246, -104) centre (246, -105) ccw projected
  line L43 (247, -105) -> (247, -111) projected
  arc A30 (246, -112) -> (247, -111) centre (246, -111) ccw projected
  line L44 (246, -112) -> (244, -112) projected
  arc A31 (243, -111) -> (244, -112) centre (244, -111) ccw projected
  line L45 (243, -111) -> (243, -105) projected
  arc A32 (216, -112) -> (217, -111) centre (216, -111) ccw projected
  line L46 (216, -112) -> (214, -112) projected
  arc A33 (213, -111) -> (214, -112) centre (214, -111) ccw projected
  line L47 (213, -111) -> (213, -105) projected
  arc A34 (214, -104) -> (213, -105) centre (214, -105) ccw projected
  line L48 (214, -104) -> (216, -104) projected
  arc A35 (217, -105) -> (216, -104) centre (216, -105) ccw projected
  line L49 (217, -105) -> (217, -111) projected
  circle A36 centre (-245, -20) radius 2.5 projected
  circle A37 centre (245, -20) radius 2.5 projected
  circle A38 centre (-245, -70) radius 2.5 projected
  circle A39 centre (245, -70) radius 2.5 projected
  circle A40 centre (-245, 30) radius 2.5 projected
  circle A41 centre (-245, -120) radius 2.5 projected
  circle A42 centre (245, 30) radius 2.5 projected
  circle A43 centre (245, -120) radius 2.5 projected
  line L50 (100, 0) -> (161.7026, -38.5641) projected
  arc A44 (184.2316, -71.1582) -> (161.7026, -38.5641) centre (135.2026, -80.964) ccw projected
  line L51 (184.2316, -71.1582) -> (195.9806, -129.9029) projected
  arc A45 (195.9806, -129.9029) -> (220.4951, -150) centre (220.4951, -125) ccw projected
  line L52 (220.4951, -150) -> (225, -150) projected
  arc A46 (225, -150) -> (250, -125) centre (225, -125) ccw projected
  line L53 (250, -125) -> (250, 34.2389) projected
  arc A47 (250, 34.2389) -> (240.9616, 62.912) centre (200, 34.2389) ccw projected
  line L54 (240.9616, 62.912) -> (194.9288, 128.6731) projected
  arc A48 (194.9288, 128.6731) -> (153.9672, 150) centre (153.9672, 100) ccw projected
  line L55 (153.9672, 150) -> (-153.9672, 150) projected
  arc A49 (-153.9672, 150) -> (-194.9288, 128.6731) centre (-153.9672, 100) ccw projected
  line L56 (-194.9288, 128.6731) -> (-240.9616, 62.912) projected
  arc A50 (-240.9616, 62.912) -> (-250, 34.2389) centre (-200, 34.2389) ccw projected
  line L57 (-250, 34.2389) -> (-250, -125) projected
  arc A51 (-250, -125) -> (-225, -150) centre (-225, -125) ccw projected
  line L58 (-225, -150) -> (-220.4951, -150) projected
  arc A52 (-220.4951, -150) -> (-195.9806, -129.9029) centre (-220.4951, -125) ccw projected
  line L59 (-195.9806, -129.9029) -> (-184.2316, -71.1582) projected
  arc A53 (-161.7026, -38.5641) -> (-184.2316, -71.1582) centre (-135.2026, -80.964) ccw projected
  line L60 (-161.7026, -38.5641) -> (-100, 0) projected
  line L61 (-100, 0) -> (100, 0) projected
  line L62 (-100, 0) -> (-100, 150) construction
  line L63 (100, 0) -> (100, 150) construction
  point P0 (0, 0)
properties part number "Shell 25083113"
